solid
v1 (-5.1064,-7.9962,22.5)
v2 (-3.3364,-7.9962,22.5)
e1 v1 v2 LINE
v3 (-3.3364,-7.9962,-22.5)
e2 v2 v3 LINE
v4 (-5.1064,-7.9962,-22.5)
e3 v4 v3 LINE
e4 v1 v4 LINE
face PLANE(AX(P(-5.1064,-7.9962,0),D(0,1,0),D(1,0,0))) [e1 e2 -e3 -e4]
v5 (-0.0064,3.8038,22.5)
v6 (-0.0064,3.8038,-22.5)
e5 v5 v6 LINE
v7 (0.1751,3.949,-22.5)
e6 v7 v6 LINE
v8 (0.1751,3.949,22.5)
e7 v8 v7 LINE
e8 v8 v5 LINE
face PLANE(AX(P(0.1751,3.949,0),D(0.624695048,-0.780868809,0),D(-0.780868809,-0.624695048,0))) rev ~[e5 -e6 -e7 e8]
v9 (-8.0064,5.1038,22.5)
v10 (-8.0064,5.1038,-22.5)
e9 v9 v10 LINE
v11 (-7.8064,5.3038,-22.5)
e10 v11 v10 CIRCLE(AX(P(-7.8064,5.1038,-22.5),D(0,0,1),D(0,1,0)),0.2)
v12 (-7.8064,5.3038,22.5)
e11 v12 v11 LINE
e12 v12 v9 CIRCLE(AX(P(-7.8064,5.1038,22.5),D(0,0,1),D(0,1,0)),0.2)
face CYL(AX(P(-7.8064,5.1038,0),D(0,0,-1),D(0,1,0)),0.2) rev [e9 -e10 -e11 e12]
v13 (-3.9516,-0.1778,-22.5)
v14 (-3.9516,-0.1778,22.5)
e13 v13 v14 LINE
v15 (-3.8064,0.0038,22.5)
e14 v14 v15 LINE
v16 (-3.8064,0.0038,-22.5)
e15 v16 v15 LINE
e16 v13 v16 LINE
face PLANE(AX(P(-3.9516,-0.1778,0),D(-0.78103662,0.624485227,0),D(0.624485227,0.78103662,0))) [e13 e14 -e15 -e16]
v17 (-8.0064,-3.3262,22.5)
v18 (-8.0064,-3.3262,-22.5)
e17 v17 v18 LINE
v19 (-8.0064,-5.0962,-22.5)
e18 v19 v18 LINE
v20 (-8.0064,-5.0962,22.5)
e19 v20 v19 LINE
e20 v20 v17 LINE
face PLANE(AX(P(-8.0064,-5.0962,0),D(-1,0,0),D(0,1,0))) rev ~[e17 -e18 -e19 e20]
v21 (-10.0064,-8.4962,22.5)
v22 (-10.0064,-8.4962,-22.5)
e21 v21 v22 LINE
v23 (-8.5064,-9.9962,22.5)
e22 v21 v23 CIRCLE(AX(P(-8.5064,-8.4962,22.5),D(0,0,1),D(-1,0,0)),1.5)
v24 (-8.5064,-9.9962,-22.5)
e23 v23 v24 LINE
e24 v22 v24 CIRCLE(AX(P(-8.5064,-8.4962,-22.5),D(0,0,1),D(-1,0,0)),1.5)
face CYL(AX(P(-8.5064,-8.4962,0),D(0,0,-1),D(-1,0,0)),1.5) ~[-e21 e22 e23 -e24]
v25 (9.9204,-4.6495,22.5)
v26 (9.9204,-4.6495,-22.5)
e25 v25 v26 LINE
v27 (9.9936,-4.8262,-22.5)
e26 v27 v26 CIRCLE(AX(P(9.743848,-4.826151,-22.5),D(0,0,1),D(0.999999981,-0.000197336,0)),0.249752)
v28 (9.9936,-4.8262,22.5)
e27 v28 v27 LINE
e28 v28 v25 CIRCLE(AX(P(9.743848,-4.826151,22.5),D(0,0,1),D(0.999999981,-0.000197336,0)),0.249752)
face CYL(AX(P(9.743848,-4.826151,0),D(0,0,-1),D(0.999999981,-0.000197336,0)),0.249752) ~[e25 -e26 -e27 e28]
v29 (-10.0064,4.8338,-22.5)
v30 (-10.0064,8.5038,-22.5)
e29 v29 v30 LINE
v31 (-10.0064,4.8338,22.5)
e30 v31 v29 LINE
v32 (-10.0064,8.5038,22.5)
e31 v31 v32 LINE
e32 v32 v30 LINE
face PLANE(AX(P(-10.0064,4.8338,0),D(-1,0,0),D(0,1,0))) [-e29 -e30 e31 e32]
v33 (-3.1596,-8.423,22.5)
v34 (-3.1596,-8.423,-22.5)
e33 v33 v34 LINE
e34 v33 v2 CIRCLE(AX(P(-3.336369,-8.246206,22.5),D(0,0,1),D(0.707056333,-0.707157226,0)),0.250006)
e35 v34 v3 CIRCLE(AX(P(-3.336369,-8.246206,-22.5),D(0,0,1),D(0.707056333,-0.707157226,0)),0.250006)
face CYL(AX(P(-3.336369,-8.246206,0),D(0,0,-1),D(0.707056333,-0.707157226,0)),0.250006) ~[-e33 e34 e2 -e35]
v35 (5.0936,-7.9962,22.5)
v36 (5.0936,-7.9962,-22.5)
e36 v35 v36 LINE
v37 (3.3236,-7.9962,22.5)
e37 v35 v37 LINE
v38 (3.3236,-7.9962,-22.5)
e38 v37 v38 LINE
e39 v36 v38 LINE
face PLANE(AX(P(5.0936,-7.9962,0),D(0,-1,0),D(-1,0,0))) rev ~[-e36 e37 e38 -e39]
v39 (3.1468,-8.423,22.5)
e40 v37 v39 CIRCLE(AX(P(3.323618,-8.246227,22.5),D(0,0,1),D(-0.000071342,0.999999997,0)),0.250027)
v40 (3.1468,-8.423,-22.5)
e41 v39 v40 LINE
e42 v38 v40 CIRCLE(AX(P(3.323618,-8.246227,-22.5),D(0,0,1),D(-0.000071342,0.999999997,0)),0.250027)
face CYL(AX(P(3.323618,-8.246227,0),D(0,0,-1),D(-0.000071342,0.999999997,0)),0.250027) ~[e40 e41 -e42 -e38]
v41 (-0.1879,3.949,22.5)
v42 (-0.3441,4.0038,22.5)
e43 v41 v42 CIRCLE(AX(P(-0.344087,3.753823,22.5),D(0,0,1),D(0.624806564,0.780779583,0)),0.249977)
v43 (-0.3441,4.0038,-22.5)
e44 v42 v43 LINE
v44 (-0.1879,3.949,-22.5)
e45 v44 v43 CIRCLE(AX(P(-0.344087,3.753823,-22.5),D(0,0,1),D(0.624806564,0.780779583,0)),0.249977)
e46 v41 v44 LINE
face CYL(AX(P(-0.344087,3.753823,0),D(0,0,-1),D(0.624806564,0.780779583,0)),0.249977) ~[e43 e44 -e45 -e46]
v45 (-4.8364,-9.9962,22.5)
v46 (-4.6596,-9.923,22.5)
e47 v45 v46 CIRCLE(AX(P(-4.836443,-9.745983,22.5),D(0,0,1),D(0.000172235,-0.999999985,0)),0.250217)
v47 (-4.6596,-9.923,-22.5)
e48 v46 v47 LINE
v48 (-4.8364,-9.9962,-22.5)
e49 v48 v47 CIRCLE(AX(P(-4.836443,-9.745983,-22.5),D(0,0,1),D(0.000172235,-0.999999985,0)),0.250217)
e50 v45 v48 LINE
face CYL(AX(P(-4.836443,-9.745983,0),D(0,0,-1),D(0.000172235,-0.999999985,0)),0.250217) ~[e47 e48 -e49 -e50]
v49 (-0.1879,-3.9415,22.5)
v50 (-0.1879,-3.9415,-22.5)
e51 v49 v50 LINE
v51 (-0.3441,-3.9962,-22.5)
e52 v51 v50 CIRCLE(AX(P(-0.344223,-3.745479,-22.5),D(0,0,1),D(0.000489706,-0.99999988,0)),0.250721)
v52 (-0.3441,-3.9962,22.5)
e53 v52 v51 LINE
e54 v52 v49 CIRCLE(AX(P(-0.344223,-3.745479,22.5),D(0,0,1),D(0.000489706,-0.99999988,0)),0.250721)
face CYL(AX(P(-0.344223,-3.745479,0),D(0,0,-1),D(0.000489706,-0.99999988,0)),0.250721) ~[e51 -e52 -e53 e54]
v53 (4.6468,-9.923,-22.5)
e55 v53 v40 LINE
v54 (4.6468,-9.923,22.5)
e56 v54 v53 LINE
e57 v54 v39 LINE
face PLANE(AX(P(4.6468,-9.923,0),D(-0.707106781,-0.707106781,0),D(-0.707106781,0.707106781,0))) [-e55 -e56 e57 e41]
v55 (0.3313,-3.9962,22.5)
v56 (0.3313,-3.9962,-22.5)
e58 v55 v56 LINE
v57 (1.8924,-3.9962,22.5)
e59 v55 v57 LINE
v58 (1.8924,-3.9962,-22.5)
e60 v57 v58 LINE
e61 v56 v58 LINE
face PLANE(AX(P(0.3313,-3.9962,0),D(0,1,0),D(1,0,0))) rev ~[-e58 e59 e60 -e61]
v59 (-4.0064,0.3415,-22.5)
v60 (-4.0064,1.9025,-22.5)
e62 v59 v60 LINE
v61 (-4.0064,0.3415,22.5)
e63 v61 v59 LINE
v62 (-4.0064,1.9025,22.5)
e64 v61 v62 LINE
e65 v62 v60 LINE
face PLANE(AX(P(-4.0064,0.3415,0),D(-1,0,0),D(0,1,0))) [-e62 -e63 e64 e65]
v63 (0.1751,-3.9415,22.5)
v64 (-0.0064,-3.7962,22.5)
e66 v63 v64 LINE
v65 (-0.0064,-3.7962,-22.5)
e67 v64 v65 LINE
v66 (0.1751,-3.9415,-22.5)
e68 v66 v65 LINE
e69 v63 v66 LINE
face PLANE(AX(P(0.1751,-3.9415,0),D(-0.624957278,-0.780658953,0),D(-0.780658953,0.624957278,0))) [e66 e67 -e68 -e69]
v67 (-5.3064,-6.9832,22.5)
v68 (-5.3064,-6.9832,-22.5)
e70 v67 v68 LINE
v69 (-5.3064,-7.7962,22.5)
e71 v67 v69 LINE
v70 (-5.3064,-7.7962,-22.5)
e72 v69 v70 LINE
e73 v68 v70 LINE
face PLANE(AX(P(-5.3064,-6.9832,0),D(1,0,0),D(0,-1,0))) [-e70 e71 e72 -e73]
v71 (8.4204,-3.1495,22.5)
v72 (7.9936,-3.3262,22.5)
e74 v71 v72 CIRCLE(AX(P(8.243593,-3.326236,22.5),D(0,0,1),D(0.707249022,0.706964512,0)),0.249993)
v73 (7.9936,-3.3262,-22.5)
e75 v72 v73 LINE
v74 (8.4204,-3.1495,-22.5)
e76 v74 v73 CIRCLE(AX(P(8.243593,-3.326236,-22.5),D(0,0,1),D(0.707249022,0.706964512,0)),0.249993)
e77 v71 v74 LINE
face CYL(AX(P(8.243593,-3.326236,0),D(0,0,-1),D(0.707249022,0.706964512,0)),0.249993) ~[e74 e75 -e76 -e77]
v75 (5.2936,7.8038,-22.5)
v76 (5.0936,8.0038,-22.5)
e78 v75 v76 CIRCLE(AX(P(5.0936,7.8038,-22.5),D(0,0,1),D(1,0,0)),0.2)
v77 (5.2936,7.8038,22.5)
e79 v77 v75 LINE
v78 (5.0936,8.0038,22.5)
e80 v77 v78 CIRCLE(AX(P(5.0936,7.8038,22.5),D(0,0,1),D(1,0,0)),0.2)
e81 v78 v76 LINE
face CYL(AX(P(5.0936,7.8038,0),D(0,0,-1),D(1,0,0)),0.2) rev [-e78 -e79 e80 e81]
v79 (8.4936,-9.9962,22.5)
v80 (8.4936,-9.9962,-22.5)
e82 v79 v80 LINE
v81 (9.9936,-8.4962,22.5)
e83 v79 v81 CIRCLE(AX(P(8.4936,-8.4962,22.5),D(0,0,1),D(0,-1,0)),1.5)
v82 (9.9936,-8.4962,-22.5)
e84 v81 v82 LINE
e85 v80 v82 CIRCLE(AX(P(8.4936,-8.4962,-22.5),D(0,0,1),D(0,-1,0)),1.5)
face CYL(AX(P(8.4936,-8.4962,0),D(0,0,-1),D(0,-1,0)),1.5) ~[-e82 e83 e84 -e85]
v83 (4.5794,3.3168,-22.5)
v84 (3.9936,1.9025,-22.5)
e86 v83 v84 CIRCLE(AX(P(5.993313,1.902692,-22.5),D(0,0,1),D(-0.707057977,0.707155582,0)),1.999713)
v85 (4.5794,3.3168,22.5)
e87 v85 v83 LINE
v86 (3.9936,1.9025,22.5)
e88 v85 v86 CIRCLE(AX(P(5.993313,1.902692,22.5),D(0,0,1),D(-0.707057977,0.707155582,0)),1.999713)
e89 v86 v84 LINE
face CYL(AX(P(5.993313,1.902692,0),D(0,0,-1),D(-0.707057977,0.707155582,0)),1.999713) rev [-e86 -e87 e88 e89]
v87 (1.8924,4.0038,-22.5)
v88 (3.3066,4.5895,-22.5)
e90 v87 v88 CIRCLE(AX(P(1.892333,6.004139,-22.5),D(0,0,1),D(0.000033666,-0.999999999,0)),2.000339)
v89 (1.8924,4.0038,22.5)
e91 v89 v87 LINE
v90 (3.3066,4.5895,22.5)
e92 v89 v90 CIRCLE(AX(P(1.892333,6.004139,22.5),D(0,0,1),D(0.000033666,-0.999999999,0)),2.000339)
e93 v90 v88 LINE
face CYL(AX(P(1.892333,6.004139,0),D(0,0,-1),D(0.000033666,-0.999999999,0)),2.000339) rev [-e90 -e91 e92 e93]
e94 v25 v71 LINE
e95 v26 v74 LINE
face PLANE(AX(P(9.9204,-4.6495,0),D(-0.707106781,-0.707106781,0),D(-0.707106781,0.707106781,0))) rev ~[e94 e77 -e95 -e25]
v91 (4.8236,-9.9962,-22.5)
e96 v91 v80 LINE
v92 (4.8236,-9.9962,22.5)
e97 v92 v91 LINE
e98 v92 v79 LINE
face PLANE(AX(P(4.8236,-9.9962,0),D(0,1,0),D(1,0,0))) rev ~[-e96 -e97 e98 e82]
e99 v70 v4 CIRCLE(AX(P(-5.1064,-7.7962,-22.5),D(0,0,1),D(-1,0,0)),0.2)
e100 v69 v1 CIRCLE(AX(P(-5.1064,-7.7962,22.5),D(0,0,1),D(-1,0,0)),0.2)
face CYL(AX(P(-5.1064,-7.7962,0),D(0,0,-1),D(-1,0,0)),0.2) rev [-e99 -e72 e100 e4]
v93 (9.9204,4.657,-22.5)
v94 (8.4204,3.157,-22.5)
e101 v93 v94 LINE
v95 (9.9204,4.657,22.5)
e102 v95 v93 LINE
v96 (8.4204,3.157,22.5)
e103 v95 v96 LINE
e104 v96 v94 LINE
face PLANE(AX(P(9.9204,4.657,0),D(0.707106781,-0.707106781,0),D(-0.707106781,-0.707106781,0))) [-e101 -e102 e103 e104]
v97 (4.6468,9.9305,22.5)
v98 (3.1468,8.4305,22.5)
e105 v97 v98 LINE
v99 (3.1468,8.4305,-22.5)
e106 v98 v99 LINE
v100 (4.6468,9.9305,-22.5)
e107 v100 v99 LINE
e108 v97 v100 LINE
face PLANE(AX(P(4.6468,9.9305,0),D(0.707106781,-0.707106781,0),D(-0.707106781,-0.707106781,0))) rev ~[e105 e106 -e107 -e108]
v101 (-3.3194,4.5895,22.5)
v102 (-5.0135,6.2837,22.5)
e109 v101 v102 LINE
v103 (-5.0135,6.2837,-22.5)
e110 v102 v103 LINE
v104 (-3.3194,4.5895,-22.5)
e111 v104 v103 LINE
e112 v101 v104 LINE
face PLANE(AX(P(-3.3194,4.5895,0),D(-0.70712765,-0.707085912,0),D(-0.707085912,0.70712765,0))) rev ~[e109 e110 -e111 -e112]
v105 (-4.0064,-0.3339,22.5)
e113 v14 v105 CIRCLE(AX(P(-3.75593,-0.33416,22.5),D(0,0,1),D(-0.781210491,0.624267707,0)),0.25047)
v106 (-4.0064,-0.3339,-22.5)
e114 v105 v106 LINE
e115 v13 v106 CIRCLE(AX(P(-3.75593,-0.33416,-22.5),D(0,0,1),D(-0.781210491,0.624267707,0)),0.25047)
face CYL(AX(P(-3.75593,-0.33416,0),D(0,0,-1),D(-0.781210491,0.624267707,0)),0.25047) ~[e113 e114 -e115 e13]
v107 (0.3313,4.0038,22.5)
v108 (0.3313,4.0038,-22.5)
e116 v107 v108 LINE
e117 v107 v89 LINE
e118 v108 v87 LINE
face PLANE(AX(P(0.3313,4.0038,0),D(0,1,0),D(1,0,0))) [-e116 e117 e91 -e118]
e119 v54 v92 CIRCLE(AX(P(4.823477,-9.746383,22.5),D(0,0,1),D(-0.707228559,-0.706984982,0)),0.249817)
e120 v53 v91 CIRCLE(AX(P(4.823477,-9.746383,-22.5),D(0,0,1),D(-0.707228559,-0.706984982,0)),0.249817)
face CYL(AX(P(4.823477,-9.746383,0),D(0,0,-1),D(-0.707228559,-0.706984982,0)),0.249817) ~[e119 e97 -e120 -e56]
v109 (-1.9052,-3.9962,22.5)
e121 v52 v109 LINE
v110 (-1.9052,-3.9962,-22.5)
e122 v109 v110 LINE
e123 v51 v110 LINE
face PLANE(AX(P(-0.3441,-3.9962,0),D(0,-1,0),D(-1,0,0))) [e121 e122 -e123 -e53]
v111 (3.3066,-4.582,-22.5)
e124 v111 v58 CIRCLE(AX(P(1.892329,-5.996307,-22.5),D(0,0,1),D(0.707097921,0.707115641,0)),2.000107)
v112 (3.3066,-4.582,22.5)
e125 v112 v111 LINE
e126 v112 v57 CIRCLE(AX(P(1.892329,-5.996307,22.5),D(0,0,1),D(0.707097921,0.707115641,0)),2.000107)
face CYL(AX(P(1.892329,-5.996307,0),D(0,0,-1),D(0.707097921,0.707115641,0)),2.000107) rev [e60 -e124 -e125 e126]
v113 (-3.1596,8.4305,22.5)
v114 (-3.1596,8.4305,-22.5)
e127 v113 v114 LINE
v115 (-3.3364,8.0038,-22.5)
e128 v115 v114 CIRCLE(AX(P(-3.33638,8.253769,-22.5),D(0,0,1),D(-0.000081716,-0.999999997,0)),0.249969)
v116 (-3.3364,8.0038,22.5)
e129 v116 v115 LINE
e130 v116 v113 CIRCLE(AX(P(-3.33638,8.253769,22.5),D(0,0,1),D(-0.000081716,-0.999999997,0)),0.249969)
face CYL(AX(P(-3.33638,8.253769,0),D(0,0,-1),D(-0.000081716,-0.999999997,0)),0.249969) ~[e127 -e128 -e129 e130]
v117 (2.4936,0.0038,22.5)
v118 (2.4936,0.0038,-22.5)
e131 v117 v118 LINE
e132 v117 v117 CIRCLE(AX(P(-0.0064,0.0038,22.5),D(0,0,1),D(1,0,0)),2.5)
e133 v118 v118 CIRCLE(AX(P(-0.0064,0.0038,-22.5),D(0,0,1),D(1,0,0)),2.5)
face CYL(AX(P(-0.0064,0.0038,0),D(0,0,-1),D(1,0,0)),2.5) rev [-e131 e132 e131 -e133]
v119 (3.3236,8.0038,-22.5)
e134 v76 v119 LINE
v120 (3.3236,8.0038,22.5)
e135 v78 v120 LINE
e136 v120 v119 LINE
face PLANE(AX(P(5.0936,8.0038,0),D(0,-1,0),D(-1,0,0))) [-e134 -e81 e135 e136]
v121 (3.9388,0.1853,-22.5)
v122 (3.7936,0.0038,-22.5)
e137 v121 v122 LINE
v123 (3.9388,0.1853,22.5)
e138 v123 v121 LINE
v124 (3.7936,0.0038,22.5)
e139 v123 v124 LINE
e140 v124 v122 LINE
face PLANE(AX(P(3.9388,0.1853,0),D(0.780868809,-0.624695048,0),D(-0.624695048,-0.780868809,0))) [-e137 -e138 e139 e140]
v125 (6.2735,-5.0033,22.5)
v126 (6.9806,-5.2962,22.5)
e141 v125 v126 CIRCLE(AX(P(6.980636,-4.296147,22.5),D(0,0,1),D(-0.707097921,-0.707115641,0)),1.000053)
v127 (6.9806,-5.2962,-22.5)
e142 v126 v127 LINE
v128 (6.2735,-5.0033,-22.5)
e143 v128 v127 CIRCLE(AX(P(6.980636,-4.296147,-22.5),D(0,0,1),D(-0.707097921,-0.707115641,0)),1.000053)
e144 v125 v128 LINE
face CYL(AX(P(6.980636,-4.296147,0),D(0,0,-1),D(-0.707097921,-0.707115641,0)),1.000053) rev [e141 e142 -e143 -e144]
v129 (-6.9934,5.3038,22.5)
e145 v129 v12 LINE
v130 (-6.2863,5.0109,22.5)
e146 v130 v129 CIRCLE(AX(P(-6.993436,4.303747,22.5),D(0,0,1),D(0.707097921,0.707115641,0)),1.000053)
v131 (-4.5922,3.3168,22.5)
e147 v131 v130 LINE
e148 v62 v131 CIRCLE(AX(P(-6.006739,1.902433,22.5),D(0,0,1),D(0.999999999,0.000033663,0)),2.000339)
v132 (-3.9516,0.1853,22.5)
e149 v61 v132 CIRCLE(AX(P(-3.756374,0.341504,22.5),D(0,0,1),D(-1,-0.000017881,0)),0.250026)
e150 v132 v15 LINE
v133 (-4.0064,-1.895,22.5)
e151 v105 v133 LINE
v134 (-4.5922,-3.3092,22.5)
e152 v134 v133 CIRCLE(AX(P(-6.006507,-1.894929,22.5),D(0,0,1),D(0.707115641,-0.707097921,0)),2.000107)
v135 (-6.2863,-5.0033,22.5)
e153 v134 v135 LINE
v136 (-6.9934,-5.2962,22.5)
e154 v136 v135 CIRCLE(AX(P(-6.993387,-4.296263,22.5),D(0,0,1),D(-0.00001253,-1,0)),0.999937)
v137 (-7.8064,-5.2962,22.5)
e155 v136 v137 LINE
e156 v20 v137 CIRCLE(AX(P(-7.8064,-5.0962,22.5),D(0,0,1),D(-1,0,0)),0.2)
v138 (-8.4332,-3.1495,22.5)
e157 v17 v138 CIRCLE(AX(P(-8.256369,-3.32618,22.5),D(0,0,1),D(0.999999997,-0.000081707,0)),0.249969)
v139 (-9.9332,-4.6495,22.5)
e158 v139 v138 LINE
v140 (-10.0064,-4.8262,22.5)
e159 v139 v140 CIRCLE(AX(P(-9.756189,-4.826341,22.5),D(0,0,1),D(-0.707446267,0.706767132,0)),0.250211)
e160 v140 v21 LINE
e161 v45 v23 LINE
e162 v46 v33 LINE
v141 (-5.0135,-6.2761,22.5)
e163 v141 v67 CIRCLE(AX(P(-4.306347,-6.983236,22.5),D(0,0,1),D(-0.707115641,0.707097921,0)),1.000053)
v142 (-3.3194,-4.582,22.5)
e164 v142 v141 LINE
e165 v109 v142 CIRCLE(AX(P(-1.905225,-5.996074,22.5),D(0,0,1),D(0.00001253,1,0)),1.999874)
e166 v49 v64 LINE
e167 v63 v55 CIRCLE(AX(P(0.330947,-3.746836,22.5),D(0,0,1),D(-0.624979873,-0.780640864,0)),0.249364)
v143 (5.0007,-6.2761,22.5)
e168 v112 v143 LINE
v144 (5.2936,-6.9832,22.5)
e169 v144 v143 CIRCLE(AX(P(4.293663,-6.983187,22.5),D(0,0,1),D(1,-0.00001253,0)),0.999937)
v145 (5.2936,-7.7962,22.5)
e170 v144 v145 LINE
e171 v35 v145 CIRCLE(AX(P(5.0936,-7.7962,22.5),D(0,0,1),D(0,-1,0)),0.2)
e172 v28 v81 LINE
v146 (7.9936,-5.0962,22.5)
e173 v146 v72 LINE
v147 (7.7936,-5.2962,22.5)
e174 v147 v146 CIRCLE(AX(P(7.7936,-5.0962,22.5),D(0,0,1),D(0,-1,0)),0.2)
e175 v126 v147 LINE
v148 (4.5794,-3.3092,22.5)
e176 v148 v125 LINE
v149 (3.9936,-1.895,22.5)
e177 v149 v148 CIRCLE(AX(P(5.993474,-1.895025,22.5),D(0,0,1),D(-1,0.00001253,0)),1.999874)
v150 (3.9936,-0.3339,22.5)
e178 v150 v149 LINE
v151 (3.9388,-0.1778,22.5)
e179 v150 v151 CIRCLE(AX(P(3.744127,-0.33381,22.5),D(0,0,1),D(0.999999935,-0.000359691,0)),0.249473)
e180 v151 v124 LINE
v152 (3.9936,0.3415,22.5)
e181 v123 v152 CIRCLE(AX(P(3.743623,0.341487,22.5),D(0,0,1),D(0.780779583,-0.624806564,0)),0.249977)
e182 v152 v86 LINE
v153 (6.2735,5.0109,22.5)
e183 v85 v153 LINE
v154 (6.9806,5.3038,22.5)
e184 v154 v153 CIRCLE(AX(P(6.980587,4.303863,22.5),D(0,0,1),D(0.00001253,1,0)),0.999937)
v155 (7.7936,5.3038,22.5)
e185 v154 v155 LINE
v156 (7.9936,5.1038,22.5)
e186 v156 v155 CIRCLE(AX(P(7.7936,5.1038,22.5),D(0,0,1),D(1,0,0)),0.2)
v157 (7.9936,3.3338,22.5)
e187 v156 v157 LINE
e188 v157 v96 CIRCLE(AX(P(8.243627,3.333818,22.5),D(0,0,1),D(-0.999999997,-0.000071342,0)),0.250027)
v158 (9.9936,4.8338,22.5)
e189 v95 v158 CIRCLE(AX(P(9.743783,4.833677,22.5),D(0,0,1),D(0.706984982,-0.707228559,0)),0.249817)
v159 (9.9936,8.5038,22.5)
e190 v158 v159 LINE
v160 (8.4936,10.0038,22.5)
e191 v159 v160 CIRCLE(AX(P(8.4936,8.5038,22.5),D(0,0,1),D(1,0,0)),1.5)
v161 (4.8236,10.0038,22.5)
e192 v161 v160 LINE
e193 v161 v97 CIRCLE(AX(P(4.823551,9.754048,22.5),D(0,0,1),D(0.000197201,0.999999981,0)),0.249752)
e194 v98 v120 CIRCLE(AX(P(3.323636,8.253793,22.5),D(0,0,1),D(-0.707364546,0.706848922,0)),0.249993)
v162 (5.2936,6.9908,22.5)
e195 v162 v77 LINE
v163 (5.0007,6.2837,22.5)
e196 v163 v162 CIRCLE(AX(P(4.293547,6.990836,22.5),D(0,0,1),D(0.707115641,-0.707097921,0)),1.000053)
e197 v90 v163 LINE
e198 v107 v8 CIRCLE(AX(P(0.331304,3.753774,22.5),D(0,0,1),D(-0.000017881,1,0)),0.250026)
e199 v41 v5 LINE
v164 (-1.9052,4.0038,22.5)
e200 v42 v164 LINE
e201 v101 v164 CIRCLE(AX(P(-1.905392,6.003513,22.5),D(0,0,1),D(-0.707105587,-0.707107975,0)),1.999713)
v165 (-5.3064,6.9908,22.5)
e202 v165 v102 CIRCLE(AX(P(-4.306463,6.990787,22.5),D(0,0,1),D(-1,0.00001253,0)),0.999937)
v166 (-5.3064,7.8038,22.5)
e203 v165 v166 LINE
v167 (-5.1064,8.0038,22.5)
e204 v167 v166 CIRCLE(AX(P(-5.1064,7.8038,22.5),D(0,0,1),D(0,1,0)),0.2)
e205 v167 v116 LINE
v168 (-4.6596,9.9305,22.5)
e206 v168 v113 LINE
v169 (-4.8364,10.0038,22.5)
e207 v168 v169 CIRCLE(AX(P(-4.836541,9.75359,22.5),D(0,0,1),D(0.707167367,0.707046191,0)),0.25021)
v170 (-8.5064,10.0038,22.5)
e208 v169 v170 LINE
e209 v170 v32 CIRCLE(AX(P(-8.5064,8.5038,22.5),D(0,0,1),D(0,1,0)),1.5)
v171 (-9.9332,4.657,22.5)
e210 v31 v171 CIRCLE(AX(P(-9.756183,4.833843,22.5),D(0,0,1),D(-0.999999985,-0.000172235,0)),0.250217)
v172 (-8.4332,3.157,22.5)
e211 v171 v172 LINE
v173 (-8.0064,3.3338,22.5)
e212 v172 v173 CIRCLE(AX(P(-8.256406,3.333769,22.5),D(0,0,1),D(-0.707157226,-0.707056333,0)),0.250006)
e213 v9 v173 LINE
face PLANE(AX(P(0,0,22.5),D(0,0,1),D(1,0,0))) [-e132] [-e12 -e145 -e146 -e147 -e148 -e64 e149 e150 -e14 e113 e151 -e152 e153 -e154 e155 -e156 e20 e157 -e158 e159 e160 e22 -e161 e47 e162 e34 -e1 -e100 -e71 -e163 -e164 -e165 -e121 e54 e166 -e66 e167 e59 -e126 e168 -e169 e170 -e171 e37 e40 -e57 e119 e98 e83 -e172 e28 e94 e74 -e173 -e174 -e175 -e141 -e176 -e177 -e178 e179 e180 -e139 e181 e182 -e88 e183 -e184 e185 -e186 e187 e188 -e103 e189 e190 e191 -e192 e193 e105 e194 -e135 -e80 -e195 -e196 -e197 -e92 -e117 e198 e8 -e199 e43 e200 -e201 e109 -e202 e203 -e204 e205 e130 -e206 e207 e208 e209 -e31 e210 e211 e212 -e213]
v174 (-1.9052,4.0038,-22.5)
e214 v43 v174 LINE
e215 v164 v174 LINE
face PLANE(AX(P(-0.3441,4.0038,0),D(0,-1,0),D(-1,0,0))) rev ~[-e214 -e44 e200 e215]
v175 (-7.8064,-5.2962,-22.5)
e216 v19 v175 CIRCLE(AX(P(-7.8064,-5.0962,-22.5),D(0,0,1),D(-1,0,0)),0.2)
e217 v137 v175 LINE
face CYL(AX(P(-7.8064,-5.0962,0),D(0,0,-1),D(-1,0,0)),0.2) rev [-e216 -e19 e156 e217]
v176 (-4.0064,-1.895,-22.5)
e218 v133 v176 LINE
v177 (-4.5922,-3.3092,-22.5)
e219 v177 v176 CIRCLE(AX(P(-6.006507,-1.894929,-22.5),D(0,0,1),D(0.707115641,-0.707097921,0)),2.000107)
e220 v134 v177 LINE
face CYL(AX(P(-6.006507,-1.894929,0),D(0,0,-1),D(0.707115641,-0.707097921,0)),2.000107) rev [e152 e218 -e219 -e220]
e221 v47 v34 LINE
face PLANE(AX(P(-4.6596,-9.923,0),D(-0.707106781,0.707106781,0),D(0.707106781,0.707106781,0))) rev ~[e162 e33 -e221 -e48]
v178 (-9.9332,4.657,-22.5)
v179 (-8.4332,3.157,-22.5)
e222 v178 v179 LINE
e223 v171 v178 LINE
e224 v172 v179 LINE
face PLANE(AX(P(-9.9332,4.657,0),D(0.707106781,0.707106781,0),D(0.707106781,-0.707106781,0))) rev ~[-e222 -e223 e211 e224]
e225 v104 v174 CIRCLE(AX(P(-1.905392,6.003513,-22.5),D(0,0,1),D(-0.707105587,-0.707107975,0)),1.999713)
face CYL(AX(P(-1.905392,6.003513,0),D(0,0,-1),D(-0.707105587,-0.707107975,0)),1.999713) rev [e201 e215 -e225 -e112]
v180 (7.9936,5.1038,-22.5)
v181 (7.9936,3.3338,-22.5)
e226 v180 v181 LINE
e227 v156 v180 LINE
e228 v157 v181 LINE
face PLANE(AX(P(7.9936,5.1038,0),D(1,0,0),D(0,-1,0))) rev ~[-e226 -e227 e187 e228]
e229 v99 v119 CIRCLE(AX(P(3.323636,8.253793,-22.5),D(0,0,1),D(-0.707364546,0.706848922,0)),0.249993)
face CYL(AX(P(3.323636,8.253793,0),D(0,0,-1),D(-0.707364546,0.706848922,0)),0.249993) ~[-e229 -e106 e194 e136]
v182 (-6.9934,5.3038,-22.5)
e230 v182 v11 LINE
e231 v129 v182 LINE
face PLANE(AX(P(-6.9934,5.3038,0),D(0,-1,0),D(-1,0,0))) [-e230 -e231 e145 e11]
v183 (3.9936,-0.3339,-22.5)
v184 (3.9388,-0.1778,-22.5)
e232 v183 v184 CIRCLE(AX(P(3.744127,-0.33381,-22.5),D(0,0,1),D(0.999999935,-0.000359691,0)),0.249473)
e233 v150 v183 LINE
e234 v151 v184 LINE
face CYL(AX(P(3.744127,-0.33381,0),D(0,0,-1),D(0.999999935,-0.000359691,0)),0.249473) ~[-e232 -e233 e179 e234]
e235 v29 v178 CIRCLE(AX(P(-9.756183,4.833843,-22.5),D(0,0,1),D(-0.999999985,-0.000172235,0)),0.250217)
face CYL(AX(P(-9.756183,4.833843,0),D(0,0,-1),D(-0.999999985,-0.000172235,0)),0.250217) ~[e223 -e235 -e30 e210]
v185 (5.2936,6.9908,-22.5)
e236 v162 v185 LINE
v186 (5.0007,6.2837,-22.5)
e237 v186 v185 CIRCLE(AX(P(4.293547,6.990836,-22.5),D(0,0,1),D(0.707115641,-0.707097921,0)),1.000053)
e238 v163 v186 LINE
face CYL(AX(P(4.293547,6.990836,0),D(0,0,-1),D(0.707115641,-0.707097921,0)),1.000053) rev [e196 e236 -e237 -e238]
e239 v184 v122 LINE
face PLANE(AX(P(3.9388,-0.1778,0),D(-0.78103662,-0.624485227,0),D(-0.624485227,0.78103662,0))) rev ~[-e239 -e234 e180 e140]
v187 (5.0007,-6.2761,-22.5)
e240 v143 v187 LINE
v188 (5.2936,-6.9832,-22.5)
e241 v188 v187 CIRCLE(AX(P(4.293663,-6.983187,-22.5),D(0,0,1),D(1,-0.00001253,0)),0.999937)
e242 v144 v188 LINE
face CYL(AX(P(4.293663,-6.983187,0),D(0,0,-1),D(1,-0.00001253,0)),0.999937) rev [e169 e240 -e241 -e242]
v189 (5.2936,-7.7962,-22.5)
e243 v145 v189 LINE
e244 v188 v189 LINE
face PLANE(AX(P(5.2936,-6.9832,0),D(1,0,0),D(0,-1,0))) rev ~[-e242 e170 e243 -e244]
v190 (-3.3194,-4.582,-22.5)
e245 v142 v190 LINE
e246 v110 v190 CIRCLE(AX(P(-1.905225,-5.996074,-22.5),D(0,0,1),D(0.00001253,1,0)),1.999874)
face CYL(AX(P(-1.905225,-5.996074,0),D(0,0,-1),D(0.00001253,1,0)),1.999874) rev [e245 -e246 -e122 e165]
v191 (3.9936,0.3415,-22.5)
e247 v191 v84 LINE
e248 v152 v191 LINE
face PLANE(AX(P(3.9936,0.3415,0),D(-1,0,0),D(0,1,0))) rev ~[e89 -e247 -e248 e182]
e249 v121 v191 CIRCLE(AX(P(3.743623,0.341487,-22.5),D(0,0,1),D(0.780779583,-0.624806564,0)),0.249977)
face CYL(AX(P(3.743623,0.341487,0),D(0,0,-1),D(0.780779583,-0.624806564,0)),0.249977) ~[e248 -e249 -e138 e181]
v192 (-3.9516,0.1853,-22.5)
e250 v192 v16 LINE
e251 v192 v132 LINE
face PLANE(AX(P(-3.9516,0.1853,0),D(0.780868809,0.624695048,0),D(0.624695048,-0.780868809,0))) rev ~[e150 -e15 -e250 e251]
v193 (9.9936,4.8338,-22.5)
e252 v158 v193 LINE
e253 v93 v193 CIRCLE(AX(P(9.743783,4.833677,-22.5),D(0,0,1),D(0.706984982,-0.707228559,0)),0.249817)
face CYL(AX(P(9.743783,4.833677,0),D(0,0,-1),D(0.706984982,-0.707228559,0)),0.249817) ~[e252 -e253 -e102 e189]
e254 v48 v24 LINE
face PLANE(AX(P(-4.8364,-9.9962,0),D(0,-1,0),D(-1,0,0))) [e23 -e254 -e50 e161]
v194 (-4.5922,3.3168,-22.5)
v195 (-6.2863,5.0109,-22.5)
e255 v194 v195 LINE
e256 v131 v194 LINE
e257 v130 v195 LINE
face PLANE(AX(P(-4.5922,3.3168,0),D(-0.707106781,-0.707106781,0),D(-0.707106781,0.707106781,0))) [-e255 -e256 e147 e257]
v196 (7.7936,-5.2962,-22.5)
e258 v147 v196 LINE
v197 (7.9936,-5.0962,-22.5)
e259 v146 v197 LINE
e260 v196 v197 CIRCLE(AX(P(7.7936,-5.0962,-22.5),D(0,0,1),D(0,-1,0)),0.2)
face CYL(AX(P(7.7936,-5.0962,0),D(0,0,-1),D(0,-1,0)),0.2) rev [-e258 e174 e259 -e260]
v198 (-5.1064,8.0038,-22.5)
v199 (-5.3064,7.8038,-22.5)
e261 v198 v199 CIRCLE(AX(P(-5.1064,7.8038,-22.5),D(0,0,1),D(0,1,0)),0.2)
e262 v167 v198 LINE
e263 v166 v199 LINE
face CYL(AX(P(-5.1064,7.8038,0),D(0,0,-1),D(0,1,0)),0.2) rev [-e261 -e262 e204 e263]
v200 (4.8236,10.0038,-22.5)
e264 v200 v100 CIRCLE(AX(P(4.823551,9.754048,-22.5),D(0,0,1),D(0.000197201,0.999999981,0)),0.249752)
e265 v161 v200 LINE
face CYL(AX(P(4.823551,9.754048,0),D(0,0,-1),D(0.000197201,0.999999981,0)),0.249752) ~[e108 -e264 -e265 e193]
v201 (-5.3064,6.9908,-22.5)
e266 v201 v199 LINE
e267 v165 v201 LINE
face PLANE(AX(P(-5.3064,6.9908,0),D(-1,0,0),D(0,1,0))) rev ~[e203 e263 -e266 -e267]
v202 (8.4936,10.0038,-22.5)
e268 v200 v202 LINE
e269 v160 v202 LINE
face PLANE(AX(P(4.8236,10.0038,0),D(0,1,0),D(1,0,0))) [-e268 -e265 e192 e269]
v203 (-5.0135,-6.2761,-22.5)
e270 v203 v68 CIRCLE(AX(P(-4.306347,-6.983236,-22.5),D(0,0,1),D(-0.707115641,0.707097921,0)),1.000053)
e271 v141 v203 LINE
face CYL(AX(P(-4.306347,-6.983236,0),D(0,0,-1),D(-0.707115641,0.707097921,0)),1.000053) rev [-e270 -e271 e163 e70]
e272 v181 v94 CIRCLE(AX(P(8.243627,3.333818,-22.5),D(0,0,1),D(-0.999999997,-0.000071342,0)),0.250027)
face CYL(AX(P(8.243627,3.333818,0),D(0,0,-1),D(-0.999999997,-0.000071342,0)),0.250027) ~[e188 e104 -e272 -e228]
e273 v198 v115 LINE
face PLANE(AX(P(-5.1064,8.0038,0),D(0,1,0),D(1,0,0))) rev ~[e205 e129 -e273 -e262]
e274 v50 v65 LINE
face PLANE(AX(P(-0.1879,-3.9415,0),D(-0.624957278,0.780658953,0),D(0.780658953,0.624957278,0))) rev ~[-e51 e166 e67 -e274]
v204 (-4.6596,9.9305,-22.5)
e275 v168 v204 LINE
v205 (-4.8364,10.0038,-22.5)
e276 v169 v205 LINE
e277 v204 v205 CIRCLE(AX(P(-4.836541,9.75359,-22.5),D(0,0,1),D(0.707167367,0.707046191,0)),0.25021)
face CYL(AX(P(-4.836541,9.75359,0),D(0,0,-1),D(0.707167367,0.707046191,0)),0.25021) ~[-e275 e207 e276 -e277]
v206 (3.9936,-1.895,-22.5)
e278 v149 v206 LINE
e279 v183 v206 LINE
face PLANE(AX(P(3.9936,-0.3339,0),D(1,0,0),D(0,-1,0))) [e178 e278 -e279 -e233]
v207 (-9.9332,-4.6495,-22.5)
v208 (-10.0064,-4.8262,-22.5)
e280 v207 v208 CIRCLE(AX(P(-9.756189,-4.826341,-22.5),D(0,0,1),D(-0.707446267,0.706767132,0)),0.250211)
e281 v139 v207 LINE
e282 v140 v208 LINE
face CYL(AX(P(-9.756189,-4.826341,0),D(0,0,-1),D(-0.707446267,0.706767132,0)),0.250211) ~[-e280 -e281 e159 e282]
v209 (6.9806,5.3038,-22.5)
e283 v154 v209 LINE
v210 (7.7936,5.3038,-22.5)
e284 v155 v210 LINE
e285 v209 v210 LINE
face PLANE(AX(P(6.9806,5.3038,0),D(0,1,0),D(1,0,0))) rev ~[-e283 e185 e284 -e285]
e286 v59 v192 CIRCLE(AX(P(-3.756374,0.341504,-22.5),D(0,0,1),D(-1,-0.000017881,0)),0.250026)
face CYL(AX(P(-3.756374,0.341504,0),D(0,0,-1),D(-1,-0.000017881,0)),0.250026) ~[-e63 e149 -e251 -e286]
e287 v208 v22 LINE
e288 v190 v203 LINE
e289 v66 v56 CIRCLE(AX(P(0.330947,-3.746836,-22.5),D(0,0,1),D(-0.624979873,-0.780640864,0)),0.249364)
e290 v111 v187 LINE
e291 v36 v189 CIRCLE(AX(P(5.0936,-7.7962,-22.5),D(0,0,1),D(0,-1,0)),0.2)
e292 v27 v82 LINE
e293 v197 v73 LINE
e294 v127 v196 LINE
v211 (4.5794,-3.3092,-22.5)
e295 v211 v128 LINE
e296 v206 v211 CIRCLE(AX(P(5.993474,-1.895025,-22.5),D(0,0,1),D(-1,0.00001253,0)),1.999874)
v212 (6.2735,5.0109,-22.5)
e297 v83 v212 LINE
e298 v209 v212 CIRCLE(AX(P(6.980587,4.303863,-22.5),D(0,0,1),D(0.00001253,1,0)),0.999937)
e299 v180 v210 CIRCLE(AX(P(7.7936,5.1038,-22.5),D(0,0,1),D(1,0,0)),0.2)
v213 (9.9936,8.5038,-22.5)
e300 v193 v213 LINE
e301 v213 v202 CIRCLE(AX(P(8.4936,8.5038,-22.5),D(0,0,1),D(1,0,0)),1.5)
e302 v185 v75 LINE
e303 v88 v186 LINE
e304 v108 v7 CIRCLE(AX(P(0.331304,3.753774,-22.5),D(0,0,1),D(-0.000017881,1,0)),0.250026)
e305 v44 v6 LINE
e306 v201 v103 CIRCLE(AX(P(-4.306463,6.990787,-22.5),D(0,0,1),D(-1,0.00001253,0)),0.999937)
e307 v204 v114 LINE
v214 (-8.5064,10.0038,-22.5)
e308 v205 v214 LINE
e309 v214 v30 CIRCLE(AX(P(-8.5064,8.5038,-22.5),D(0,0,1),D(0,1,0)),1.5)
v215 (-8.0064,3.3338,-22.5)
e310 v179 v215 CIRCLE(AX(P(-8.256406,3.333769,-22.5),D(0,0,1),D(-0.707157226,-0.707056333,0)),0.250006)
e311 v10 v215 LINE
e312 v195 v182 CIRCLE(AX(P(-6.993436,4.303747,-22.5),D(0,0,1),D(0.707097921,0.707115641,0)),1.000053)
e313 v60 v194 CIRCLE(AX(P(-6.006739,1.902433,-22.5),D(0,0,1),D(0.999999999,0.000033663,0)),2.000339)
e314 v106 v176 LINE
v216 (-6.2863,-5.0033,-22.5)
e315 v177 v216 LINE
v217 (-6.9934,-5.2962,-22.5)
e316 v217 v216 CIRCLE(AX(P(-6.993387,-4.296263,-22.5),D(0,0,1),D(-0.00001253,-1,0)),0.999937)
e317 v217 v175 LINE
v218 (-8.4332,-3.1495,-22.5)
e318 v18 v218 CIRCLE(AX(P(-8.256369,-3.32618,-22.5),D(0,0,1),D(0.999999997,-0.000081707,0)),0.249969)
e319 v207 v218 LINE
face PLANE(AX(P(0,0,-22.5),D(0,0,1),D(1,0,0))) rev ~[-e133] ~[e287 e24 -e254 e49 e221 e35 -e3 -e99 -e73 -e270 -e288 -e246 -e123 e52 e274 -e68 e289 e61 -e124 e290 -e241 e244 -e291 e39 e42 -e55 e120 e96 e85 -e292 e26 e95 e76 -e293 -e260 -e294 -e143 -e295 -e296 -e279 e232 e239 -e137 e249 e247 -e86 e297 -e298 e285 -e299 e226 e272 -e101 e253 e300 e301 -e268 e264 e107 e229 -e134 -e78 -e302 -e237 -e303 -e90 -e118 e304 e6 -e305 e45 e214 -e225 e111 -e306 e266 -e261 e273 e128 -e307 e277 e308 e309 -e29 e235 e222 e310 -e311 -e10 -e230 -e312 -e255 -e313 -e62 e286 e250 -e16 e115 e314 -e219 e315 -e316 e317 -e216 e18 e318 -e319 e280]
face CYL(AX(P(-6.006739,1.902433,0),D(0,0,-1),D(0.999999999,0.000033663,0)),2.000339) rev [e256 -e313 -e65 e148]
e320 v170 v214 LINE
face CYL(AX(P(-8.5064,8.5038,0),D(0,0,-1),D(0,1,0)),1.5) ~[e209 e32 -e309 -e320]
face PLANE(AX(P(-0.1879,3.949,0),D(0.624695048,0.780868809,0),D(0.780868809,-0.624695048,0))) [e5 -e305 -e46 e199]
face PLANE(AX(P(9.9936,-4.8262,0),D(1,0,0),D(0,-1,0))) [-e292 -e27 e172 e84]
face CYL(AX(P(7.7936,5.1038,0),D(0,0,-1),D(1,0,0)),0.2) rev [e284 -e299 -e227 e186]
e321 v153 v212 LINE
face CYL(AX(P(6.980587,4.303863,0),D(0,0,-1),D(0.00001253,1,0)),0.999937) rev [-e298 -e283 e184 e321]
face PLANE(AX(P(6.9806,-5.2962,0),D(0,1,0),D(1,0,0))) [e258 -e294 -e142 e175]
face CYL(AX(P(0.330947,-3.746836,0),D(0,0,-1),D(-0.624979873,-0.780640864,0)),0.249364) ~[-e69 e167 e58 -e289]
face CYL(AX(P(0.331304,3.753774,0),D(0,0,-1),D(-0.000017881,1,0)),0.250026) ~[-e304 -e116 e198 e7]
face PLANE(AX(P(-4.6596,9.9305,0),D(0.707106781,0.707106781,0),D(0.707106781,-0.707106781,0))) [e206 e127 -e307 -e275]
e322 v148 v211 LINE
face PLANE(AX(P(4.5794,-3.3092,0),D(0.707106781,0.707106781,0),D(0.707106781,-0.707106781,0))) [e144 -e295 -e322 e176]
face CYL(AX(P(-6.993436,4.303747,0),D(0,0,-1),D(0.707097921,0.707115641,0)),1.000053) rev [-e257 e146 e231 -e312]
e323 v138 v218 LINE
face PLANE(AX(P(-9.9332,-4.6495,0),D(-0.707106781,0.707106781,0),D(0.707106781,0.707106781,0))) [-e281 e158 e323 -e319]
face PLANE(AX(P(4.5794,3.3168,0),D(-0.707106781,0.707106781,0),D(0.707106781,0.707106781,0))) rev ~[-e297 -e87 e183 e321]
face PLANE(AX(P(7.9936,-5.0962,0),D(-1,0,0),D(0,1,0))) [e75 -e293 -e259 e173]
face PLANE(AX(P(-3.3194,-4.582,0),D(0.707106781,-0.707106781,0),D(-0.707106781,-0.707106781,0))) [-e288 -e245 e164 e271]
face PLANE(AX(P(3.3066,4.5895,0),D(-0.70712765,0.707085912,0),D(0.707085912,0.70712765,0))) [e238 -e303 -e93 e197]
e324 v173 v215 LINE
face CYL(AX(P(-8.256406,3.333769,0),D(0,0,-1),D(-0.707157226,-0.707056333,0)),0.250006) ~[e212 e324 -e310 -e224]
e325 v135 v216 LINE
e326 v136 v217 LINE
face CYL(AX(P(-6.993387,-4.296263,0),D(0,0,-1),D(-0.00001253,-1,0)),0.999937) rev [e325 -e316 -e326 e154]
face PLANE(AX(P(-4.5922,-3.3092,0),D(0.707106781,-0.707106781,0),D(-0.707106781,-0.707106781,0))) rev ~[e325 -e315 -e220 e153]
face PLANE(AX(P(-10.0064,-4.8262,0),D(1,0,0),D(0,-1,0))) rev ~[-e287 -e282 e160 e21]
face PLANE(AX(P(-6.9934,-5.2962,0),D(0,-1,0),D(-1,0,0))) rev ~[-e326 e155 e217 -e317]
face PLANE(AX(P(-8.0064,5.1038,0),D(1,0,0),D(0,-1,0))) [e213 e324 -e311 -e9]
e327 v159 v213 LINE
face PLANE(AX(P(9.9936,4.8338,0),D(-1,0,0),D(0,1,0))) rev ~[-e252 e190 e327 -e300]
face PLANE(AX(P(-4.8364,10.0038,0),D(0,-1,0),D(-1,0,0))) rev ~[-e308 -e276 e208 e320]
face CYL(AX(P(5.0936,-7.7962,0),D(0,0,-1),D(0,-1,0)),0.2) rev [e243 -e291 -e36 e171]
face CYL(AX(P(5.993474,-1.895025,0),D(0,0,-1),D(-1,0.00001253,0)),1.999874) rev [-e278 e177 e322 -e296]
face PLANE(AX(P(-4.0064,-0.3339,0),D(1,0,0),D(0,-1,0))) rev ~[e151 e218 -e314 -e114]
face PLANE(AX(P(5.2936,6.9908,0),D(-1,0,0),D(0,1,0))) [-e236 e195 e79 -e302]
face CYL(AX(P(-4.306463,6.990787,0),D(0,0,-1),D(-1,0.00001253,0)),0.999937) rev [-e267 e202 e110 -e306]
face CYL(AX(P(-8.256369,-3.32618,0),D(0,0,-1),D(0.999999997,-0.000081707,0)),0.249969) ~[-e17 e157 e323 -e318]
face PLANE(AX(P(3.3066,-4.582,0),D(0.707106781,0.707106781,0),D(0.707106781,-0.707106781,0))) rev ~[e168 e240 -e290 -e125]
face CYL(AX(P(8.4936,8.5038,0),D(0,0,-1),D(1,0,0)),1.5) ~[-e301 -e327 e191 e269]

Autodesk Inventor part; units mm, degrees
ref_plane "YZ Plane" through (0, 0, 0) normal (1, 0, 0) x (0, 1, 0)
ref_plane "XZ Plane" through (0, 0, 0) normal (0, 1, 0) x (-1, 0, 0)
ref_plane "XY Plane" through (0, 0, 0) normal (0, 0, 1) x (1, 0, 0)
sketch "Эскиз1" plane through (0, 0, 0) normal (0, 0, 1) x (1, 0, 0)
  line L0 (-3.9516, 0.1853) -> (-3.8064, 0.0038)
  line L1 (-3.9516, -0.1778) -> (-3.8064, 0.0038)
  arc A0 (-3.9516, -0.1778) -> (-4.0064, -0.3339) centre (-3.7564, -0.3339) ccw
  line L2 (-4.0064, -0.3339) -> (-4.0064, -1.895)
  arc A1 (-4.5922, -3.3092) -> (-4.0064, -1.895) centre (-6.0064, -1.895) ccw
  line L3 (-4.5922, -3.3092) -> (-6.2863, -5.0033)
  arc A2 (-6.9934, -5.2962) -> (-6.2863, -5.0033) centre (-6.9934, -4.2962) ccw
  line L4 (-6.9934, -5.2962) -> (-7.8064, -5.2962)
  arc A3 (-8.0064, -5.0962) -> (-7.8064, -5.2962) centre (-7.8064, -5.0962) ccw
  line L5 (-8.0064, -5.0962) -> (-8.0064, -3.3262)
  arc A4 (-8.0064, -3.3262) -> (-8.4332, -3.1495) centre (-8.2564, -3.3262) ccw
  line L6 (-9.9332, -4.6495) -> (-8.4332, -3.1495)
  arc A5 (-9.9332, -4.6495) -> (-10.0064, -4.8262) centre (-9.7564, -4.8262) ccw
  line L7 (-10.0064, -4.8262) -> (-10.0064, -8.4962)
  arc A6 (-10.0064, -8.4962) -> (-8.5064, -9.9962) centre (-8.5064, -8.4962) ccw
  line L8 (-4.8364, -9.9962) -> (-8.5064, -9.9962)
  arc A7 (-4.8364, -9.9962) -> (-4.6596, -9.923) centre (-4.8364, -9.7462) ccw
  line L9 (-4.6596, -9.923) -> (-3.1596, -8.423)
  arc A8 (-3.1596, -8.423) -> (-3.3364, -7.9962) centre (-3.3364, -8.2462) ccw
  line L10 (-5.1064, -7.9962) -> (-3.3364, -7.9962)
  arc A9 (-5.3064, -7.7962) -> (-5.1064, -7.9962) centre (-5.1064, -7.7962) ccw
  line L11 (-5.3064, -6.9832) -> (-5.3064, -7.7962)
  arc A10 (-5.0135, -6.2761) -> (-5.3064, -6.9832) centre (-4.3064, -6.9832) ccw
  line L12 (-3.3194, -4.582) -> (-5.0135, -6.2761)
  arc A11 (-1.9052, -3.9962) -> (-3.3194, -4.582) centre (-1.9052, -5.9962) ccw
  line L13 (-0.3441, -3.9962) -> (-1.9052, -3.9962)
  arc A12 (-0.3441, -3.9962) -> (-0.1879, -3.9415) centre (-0.3441, -3.7462) ccw
  line L14 (-0.1879, -3.9415) -> (-0.0064, -3.7962)
  line L15 (0.1751, -3.9415) -> (-0.0064, -3.7962)
  arc A13 (0.1751, -3.9415) -> (0.3313, -3.9962) centre (0.3313, -3.7462) ccw
  line L16 (0.3313, -3.9962) -> (1.8924, -3.9962)
  arc A14 (3.3066, -4.582) -> (1.8924, -3.9962) centre (1.8924, -5.9962) ccw
  line L17 (3.3066, -4.582) -> (5.0007, -6.2761)
  arc A15 (5.2936, -6.9832) -> (5.0007, -6.2761) centre (4.2936, -6.9832) ccw
  line L18 (5.2936, -6.9832) -> (5.2936, -7.7962)
  arc A16 (5.0936, -7.9962) -> (5.2936, -7.7962) centre (5.0936, -7.7962) ccw
  line L19 (5.0936, -7.9962) -> (3.3236, -7.9962)
  arc A17 (3.3236, -7.9962) -> (3.1468, -8.423) centre (3.3236, -8.2462) ccw
  line L20 (4.6468, -9.923) -> (3.1468, -8.423)
  arc A18 (4.6468, -9.923) -> (4.8236, -9.9962) centre (4.8236, -9.7462) ccw
  line L21 (4.8236, -9.9962) -> (8.4936, -9.9962)
  arc A19 (8.4936, -9.9962) -> (9.9936, -8.4962) centre (8.4936, -8.4962) ccw
  line L22 (9.9936, -4.8262) -> (9.9936, -8.4962)
  arc A20 (9.9936, -4.8262) -> (9.9204, -4.6495) centre (9.7436, -4.8262) ccw
  line L23 (9.9204, -4.6495) -> (8.4204, -3.1495)
  arc A21 (8.4204, -3.1495) -> (7.9936, -3.3262) centre (8.2436, -3.3262) ccw
  line L24 (7.9936, -5.0962) -> (7.9936, -3.3262)
  arc A22 (7.7936, -5.2962) -> (7.9936, -5.0962) centre (7.7936, -5.0962) ccw
  line L25 (6.9806, -5.2962) -> (7.7936, -5.2962)
  arc A23 (6.2735, -5.0033) -> (6.9806, -5.2962) centre (6.9806, -4.2962) ccw
  line L26 (4.5794, -3.3092) -> (6.2735, -5.0033)
  arc A24 (3.9936, -1.895) -> (4.5794, -3.3092) centre (5.9936, -1.895) ccw
  line L27 (3.9936, -0.3339) -> (3.9936, -1.895)
  arc A25 (3.9936, -0.3339) -> (3.9388, -0.1778) centre (3.7436, -0.3339) ccw
  line L28 (3.9388, -0.1778) -> (3.7936, 0.0038)
  line L29 (3.9388, 0.1853) -> (3.7936, 0.0038)
  arc A26 (3.9388, 0.1853) -> (3.9936, 0.3415) centre (3.7436, 0.3415) ccw
  line L30 (3.9936, 0.3415) -> (3.9936, 1.9025)
  arc A27 (4.5794, 3.3168) -> (3.9936, 1.9025) centre (5.9936, 1.9025) ccw
  line L31 (4.5794, 3.3168) -> (6.2735, 5.0109)
  arc A28 (6.9806, 5.3038) -> (6.2735, 5.0109) centre (6.9806, 4.3038) ccw
  line L32 (6.9806, 5.3038) -> (7.7936, 5.3038)
  arc A29 (7.9936, 5.1038) -> (7.7936, 5.3038) centre (7.7936, 5.1038) ccw
  line L33 (7.9936, 5.1038) -> (7.9936, 3.3338)
  arc A30 (7.9936, 3.3338) -> (8.4204, 3.157) centre (8.2436, 3.3338) ccw
  line L34 (9.9204, 4.657) -> (8.4204, 3.157)
  arc A31 (9.9204, 4.657) -> (9.9936, 4.8338) centre (9.7436, 4.8338) ccw
  line L35 (9.9936, 4.8338) -> (9.9936, 8.5038)
  arc A32 (9.9936, 8.5038) -> (8.4936, 10.0038) centre (8.4936, 8.5038) ccw
  line L36 (4.8236, 10.0038) -> (8.4936, 10.0038)
  arc A33 (4.8236, 10.0038) -> (4.6468, 9.9305) centre (4.8236, 9.7538) ccw
  line L37 (4.6468, 9.9305) -> (3.1468, 8.4305)
  arc A34 (3.1468, 8.4305) -> (3.3236, 8.0038) centre (3.3236, 8.2538) ccw
  line L38 (5.0936, 8.0038) -> (3.3236, 8.0038)
  arc A35 (5.2936, 7.8038) -> (5.0936, 8.0038) centre (5.0936, 7.8038) ccw
  line L39 (5.2936, 6.9908) -> (5.2936, 7.8038)
  arc A36 (5.0007, 6.2837) -> (5.2936, 6.9908) centre (4.2936, 6.9908) ccw
  line L40 (3.3066, 4.5895) -> (5.0007, 6.2837)
  arc A37 (1.8924, 4.0038) -> (3.3066, 4.5895) centre (1.8924, 6.0038) ccw
  line L41 (0.3313, 4.0038) -> (1.8924, 4.0038)
  arc A38 (0.3313, 4.0038) -> (0.1751, 3.949) centre (0.3313, 3.7538) ccw
  line L42 (0.1751, 3.949) -> (-0.0064, 3.8038)
  line L43 (-0.1879, 3.949) -> (-0.0064, 3.8038)
  arc A39 (-0.1879, 3.949) -> (-0.3441, 4.0038) centre (-0.3441, 3.7538) ccw
  line L44 (-0.3441, 4.0038) -> (-1.9052, 4.0038)
  arc A40 (-3.3194, 4.5895) -> (-1.9052, 4.0038) centre (-1.9052, 6.0038) ccw
  line L45 (-3.3194, 4.5895) -> (-5.0135, 6.2837)
  arc A41 (-5.3064, 6.9908) -> (-5.0135, 6.2837) centre (-4.3064, 6.9908) ccw
  line L46 (-5.3064, 6.9908) -> (-5.3064, 7.8038)
  arc A42 (-5.1064, 8.0038) -> (-5.3064, 7.8038) centre (-5.1064, 7.8038) ccw
  line L47 (-5.1064, 8.0038) -> (-3.3364, 8.0038)
  arc A43 (-3.3364, 8.0038) -> (-3.1596, 8.4305) centre (-3.3364, 8.2538) ccw
  line L48 (-4.6596, 9.9305) -> (-3.1596, 8.4305)
  arc A44 (-4.6596, 9.9305) -> (-4.8364, 10.0038) centre (-4.8364, 9.7538) ccw
  line L49 (-4.8364, 10.0038) -> (-8.5064, 10.0038)
  arc A45 (-8.5064, 10.0038) -> (-10.0064, 8.5038) centre (-8.5064, 8.5038) ccw
  line L50 (-10.0064, 4.8338) -> (-10.0064, 8.5038)
  arc A46 (-10.0064, 4.8338) -> (-9.9332, 4.657) centre (-9.7564, 4.8338) ccw
  line L51 (-9.9332, 4.657) -> (-8.4332, 3.157)
  arc A47 (-8.4332, 3.157) -> (-8.0064, 3.3338) centre (-8.2564, 3.3338) ccw
  line L52 (-8.0064, 5.1038) -> (-8.0064, 3.3338)
  arc A48 (-7.8064, 5.3038) -> (-8.0064, 5.1038) centre (-7.8064, 5.1038) ccw
  line L53 (-6.9934, 5.3038) -> (-7.8064, 5.3038)
  arc A49 (-6.2863, 5.0109) -> (-6.9934, 5.3038) centre (-6.9934, 4.3038) ccw
  line L54 (-4.5922, 3.3168) -> (-6.2863, 5.0109)
  arc A50 (-4.0064, 1.9025) -> (-4.5922, 3.3168) centre (-6.0064, 1.9025) ccw
  line L55 (-4.0064, 0.3415) -> (-4.0064, 1.9025)
  arc A51 (-4.0064, 0.3415) -> (-3.9516, 0.1853) centre (-3.7564, 0.3415) ccw
  circle A52 centre (-0.0064, 0.0038) radius 2.5
  point P0 (0, 0)
  point P1 (-0.0064, 0.0038)
  dimension "d0" = 0.25
  dimension "d1" = 1.5
  dimension "d2" = 0.2
  dimension "d3" = 1
  dimension "d4" = 2
  dimension "d5" = 5
  dimension "d6" = 135
  dimension "d7" = 38.66
  dimension "d8" = 38.66
  dimension "d9" = 45
  dimension "d10" = 2
  dimension "d11" = 4.7
  dimension "d12" = 14
  dimension "d13" = 15.3
  dimension "d14" = 20
  dimension "d15" = 2.829
  dimension "d16" = 4.629
  dimension "d17" = 7.4579
  dimension "d18" = 2.829
  dimension "d19" = 4.629
  dimension "d20" = 7.4579
  dimension "d21" = 10.6
  dimension "d22" = 4.7
  dimension "d23" = 15.3
  dimension "d24" = 2.7
  dimension "d25" = 13.3
  dimension "d26" = 5.9346
  dimension "d27" = 5.9346
  dimension "d28" = 5.9346
  dimension "d29" = 5.9346
  dimension "d30" = 9.9936
  dimension "d31" = 3.7218
  dimension "d32" = 3.7271
  dimension "d33" = 5.3038
  dimension "d34" = 2.96
  dimension "d35" = 2.9647
  dimension "d36" = 2.9742
  dimension "d37" = 2.9684
  dimension "d38" = 8.0064
  dimension "d39" = 10
  dimension "d40" = 3.729
  dimension "d41" = 10
  dimension "d42" = 3.729
extrude "Выдавливание1" add sketch "Эскиз1" along normal mid plane 45
properties part number "AP20x20x500"
